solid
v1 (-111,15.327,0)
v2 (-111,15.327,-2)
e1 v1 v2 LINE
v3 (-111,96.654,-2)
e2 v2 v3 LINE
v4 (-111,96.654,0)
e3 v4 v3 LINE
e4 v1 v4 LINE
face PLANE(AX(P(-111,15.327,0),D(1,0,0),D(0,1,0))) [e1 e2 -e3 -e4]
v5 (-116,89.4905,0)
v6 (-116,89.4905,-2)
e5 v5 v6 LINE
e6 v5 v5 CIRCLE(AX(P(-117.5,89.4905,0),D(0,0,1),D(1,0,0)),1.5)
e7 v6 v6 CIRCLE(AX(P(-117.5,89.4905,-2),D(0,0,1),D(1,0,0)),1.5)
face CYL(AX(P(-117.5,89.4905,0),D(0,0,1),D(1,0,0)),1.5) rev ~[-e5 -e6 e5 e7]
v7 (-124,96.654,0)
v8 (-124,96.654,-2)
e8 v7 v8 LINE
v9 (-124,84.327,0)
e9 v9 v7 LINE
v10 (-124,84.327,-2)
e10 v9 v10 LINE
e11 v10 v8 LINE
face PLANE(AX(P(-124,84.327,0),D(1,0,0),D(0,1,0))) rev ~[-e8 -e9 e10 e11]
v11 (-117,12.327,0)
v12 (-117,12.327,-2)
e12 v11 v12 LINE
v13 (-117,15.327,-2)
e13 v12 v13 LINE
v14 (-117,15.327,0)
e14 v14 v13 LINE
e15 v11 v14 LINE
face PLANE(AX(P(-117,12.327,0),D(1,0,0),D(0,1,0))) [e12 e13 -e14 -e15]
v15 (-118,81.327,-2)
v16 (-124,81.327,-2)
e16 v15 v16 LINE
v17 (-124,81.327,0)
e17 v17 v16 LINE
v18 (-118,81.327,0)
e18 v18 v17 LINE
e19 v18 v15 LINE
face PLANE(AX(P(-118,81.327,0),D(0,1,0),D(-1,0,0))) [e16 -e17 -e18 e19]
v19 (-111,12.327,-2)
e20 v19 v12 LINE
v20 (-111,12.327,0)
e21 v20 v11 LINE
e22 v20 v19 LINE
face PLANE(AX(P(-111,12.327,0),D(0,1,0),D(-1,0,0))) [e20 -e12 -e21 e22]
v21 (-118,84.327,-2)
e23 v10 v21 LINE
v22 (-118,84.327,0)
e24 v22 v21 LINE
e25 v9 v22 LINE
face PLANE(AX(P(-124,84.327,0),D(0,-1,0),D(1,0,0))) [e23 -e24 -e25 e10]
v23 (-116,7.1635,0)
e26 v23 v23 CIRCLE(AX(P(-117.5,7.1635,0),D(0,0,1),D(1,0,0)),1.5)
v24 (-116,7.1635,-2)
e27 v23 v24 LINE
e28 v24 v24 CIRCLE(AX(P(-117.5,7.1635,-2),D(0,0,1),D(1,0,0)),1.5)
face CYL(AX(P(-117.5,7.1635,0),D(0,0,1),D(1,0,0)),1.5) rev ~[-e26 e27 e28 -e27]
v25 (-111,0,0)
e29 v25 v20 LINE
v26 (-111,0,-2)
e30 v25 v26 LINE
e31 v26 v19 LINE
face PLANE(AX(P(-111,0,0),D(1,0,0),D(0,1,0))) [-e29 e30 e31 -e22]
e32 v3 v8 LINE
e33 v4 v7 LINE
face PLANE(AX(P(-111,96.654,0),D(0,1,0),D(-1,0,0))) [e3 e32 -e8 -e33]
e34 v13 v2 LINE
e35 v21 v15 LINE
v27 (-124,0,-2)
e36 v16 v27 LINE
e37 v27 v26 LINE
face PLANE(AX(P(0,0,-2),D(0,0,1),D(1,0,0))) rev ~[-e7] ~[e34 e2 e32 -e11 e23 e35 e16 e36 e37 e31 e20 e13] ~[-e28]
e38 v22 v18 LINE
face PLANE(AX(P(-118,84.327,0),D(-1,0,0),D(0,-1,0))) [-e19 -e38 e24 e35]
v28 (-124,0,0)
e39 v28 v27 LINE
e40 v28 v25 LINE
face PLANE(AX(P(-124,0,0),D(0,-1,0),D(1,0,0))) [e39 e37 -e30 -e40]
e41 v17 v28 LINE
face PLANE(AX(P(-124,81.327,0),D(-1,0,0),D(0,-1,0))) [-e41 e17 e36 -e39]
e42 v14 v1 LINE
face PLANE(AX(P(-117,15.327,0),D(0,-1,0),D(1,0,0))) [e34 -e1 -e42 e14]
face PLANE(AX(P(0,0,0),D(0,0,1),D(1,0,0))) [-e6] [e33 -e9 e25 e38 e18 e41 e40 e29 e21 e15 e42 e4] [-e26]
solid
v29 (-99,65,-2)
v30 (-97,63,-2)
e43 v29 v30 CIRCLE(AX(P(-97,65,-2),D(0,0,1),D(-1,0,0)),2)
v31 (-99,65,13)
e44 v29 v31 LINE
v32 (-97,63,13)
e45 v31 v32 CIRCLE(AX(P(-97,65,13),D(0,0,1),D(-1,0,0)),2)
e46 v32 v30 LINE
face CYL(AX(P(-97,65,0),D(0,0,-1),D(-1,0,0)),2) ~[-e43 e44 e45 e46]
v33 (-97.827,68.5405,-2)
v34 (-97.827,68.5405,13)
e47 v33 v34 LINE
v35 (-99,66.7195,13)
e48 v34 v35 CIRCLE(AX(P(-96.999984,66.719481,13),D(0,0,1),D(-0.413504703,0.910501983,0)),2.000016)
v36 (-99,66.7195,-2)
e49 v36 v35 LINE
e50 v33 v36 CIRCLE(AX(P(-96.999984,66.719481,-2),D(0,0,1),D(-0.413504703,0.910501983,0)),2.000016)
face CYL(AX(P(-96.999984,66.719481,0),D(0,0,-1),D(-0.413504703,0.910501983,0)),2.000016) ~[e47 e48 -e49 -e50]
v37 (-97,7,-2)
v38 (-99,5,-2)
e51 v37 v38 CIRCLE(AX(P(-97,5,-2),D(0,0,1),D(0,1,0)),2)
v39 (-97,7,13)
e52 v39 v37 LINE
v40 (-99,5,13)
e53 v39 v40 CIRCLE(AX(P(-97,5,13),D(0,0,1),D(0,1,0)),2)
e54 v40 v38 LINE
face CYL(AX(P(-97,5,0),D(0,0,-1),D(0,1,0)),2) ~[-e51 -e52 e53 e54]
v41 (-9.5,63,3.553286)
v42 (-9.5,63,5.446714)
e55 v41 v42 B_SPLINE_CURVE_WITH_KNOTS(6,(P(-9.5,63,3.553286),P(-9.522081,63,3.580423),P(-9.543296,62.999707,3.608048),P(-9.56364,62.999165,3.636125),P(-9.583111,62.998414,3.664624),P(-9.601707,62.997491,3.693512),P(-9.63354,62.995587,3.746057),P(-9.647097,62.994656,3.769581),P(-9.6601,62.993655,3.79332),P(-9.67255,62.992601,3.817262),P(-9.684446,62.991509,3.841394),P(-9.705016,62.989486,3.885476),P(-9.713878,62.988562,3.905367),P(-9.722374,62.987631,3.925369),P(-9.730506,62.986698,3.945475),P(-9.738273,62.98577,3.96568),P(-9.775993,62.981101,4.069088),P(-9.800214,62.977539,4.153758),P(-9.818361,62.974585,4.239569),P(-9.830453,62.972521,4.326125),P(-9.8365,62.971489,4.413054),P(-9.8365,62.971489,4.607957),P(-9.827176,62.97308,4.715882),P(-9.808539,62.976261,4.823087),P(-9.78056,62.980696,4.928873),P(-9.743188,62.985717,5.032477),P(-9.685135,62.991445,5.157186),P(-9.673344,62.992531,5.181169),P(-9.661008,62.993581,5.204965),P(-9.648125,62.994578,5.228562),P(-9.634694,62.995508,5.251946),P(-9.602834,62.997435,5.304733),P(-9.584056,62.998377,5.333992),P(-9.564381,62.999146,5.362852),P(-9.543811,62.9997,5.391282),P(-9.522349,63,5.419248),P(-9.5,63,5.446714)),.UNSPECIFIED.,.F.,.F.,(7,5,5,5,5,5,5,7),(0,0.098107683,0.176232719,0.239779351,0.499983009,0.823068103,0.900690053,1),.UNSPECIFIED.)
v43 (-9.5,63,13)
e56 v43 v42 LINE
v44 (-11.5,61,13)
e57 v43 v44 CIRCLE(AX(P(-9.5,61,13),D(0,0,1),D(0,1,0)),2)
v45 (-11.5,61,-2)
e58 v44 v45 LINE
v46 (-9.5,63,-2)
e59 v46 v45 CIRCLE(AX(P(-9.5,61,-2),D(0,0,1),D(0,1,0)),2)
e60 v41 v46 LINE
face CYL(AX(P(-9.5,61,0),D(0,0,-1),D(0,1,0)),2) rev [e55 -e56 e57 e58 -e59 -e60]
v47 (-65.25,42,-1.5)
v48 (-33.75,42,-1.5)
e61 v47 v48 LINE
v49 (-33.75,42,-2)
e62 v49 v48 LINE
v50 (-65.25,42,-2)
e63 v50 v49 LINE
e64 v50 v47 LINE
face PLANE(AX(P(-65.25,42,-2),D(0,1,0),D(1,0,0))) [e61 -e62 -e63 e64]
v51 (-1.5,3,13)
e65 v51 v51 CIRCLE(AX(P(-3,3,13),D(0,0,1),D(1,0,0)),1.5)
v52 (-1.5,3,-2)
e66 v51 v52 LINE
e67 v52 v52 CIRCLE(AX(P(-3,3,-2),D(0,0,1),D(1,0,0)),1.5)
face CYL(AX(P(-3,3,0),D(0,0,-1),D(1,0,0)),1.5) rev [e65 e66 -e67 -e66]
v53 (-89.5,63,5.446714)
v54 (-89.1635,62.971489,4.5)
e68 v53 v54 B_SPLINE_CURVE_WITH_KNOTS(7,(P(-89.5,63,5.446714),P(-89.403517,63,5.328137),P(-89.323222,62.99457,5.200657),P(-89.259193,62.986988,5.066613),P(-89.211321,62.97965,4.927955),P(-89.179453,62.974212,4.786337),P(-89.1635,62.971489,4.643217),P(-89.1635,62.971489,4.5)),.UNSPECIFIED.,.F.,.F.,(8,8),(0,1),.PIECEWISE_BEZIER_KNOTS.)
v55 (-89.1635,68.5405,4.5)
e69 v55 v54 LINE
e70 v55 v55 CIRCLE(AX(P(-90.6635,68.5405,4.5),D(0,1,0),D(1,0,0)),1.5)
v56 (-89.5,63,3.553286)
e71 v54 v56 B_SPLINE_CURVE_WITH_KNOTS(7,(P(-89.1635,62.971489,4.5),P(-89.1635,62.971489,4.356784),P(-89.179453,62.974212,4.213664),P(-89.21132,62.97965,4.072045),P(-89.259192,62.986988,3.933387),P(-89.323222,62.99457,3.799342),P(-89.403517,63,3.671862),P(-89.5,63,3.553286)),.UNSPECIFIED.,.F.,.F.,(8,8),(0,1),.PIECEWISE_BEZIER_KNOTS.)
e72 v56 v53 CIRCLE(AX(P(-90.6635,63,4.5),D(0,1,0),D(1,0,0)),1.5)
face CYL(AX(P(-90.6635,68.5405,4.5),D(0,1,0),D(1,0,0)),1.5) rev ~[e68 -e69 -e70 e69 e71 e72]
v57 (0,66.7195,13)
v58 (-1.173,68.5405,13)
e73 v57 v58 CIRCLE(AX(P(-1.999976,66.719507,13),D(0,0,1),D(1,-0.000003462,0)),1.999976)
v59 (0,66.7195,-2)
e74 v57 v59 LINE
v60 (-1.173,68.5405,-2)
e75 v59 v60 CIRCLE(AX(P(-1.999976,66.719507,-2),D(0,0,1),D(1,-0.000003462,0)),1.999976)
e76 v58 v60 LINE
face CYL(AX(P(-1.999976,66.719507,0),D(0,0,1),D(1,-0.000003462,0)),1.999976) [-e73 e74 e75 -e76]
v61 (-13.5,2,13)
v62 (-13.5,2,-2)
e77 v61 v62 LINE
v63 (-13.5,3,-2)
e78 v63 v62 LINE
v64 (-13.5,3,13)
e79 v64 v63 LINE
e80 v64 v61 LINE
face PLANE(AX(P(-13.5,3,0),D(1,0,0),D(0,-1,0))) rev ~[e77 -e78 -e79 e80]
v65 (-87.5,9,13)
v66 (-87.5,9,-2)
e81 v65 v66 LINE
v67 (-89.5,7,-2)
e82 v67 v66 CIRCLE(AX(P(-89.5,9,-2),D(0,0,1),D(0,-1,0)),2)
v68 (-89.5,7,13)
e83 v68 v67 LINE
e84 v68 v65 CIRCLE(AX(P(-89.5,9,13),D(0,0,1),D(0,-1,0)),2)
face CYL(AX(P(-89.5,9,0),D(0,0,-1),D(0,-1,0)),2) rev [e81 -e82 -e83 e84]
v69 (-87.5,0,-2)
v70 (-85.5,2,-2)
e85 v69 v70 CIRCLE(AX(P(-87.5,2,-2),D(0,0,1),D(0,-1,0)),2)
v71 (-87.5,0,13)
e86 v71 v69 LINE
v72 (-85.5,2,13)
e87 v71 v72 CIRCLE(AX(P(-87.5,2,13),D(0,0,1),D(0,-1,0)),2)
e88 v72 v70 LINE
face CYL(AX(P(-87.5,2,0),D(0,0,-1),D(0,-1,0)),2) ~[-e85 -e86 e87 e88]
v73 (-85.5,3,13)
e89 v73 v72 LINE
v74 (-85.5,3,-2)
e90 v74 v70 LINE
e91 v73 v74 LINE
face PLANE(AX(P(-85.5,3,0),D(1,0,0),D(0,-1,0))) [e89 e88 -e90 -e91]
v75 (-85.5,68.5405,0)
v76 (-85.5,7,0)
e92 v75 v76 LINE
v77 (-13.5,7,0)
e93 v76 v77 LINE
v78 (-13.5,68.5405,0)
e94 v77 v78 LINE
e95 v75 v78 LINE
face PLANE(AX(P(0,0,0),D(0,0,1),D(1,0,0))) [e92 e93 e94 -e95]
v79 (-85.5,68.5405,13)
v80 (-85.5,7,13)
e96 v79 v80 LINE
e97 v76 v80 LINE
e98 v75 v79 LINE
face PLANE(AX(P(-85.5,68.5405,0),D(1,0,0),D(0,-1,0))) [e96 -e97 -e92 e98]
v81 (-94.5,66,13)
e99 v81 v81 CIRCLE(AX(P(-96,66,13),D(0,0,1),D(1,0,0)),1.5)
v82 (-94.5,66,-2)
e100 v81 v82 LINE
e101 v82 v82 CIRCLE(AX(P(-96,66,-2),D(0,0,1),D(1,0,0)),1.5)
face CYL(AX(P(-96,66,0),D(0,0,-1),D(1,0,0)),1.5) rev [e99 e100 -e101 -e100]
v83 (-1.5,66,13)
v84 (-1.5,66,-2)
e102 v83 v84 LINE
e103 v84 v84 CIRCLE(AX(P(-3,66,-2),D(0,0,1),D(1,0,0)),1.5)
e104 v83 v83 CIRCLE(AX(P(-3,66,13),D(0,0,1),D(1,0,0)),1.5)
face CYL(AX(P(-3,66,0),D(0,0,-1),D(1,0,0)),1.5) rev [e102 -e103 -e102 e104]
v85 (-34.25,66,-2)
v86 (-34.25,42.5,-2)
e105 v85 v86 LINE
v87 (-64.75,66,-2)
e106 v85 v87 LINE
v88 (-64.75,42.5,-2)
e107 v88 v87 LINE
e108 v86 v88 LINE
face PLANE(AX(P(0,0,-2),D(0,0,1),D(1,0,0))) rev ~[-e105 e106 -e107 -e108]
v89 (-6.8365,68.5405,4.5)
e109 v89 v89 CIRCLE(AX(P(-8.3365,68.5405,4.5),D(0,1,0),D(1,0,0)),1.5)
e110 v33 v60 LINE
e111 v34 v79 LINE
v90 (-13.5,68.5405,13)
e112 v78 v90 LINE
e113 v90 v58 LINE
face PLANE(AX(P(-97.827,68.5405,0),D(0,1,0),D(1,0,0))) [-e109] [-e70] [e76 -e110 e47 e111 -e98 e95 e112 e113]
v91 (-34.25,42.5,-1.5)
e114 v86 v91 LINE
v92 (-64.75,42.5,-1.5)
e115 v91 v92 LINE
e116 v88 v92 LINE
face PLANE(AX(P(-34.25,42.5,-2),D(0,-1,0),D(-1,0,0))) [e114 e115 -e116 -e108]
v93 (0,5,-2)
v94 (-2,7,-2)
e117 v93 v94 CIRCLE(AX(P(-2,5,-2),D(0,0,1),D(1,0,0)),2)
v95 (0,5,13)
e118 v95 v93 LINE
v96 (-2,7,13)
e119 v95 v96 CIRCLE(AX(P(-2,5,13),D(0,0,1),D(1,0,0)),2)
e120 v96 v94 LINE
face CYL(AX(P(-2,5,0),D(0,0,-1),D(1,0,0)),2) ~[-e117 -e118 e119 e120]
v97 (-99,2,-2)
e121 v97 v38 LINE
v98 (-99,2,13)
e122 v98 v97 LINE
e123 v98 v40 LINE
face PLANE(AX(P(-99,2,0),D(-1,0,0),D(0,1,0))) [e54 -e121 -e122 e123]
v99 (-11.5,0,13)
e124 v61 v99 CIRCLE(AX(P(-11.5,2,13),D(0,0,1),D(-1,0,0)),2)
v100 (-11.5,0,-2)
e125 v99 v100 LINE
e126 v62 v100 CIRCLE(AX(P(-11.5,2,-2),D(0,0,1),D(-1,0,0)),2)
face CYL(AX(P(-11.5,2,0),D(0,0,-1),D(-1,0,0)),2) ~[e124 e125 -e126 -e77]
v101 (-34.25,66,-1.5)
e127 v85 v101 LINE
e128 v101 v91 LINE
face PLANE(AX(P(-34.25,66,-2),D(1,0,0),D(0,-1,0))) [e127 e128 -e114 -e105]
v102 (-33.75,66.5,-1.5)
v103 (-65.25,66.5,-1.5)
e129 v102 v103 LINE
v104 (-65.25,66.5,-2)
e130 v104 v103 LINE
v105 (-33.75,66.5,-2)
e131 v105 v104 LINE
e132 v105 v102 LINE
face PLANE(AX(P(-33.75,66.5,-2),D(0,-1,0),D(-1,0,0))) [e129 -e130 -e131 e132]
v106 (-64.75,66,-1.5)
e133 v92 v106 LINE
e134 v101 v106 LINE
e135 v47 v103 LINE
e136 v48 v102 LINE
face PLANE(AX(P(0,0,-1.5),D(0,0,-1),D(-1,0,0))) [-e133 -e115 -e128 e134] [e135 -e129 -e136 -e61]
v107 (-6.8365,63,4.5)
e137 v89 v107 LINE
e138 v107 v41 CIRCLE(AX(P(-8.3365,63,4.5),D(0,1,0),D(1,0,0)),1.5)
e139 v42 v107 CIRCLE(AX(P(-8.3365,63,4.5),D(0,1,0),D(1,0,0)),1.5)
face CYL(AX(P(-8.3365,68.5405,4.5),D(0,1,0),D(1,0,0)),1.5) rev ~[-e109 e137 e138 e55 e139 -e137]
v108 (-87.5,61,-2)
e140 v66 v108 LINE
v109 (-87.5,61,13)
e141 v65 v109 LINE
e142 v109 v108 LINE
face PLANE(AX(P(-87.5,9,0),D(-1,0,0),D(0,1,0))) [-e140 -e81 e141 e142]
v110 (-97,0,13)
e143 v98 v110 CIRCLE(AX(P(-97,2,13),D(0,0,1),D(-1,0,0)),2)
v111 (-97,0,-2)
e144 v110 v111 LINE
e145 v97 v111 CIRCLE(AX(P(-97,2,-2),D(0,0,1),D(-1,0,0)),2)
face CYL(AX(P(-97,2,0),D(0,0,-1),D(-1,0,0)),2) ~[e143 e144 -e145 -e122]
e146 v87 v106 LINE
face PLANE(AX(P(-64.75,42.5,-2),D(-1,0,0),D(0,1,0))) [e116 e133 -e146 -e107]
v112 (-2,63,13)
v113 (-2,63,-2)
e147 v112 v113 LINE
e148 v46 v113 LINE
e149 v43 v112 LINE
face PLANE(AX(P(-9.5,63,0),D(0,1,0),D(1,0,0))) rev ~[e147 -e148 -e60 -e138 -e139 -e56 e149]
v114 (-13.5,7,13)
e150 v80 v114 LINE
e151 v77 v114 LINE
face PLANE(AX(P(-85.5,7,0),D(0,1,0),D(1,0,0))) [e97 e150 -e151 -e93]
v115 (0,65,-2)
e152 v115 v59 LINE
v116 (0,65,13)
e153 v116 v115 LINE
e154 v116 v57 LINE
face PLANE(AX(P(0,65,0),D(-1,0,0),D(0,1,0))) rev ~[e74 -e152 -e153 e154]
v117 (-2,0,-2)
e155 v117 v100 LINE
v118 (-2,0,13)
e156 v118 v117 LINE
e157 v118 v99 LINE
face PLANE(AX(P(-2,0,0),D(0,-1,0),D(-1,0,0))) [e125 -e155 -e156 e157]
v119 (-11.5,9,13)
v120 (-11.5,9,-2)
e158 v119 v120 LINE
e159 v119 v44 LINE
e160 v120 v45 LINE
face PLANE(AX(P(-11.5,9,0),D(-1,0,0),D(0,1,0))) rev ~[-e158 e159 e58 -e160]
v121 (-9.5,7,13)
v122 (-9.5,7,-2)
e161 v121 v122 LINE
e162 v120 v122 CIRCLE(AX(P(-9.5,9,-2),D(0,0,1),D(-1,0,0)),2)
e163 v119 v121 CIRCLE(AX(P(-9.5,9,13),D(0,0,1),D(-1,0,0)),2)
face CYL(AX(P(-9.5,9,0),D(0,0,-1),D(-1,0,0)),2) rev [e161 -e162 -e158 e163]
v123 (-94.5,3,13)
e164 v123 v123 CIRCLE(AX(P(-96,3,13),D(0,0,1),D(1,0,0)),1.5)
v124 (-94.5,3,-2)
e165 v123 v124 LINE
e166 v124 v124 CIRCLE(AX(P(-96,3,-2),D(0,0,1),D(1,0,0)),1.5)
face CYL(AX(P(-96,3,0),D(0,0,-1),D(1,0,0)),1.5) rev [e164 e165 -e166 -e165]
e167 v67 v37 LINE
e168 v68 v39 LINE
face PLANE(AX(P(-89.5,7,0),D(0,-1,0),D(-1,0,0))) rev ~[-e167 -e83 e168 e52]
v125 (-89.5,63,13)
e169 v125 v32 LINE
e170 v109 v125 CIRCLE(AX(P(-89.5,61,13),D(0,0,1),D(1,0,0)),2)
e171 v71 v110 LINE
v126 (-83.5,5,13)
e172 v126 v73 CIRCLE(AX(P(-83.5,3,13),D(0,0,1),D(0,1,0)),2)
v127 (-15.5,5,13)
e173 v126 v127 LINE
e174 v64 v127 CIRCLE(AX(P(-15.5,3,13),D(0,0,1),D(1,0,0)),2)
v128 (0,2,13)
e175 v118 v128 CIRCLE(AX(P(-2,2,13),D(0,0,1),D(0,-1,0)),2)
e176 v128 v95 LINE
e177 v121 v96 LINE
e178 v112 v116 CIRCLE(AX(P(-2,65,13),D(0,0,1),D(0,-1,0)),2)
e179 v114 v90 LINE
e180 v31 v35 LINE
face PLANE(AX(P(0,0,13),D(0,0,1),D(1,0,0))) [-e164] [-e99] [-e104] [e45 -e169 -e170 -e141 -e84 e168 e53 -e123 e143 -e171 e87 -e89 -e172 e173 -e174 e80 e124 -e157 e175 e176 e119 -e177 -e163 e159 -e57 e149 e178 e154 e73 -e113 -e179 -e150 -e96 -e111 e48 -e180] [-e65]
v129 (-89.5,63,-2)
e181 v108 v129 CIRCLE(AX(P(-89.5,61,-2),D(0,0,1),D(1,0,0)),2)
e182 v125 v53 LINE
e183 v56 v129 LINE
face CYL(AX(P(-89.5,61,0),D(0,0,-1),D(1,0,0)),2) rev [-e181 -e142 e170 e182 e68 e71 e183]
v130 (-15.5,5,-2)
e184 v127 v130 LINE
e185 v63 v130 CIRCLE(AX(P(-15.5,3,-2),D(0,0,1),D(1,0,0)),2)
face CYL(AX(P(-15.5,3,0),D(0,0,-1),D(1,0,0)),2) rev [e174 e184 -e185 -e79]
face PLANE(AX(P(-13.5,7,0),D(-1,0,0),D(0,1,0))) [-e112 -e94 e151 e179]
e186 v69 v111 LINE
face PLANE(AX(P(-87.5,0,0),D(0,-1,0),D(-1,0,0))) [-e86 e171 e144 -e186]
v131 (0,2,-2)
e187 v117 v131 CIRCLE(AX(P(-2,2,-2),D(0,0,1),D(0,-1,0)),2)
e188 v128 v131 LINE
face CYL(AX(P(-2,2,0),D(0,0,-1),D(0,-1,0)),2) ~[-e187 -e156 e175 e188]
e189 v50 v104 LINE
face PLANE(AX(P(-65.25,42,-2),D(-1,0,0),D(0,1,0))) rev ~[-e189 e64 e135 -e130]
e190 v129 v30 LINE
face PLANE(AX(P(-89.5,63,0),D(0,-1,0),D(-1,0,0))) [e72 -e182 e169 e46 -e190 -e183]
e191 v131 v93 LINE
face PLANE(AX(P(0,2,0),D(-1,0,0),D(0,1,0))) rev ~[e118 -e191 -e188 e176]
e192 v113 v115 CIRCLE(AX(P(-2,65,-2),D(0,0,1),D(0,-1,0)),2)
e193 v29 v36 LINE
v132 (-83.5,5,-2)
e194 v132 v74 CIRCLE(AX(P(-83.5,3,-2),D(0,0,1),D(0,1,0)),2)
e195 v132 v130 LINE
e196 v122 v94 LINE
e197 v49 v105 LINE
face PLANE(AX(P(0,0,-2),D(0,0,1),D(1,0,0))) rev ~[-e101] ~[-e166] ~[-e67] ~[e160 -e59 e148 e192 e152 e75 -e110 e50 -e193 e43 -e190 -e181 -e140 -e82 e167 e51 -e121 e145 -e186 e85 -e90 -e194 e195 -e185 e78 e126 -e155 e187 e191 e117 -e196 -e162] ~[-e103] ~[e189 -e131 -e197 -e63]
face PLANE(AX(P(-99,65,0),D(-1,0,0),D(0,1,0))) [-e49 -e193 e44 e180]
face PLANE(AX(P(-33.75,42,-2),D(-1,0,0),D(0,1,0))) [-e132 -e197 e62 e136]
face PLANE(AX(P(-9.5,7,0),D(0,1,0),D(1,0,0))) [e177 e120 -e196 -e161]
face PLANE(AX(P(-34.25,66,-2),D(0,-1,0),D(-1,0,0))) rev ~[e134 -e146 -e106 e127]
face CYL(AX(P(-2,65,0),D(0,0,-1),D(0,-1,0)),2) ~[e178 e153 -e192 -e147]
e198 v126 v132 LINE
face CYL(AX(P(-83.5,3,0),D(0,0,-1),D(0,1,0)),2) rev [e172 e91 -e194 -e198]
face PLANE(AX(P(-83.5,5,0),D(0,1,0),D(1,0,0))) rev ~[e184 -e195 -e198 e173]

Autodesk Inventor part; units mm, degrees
ref_plane "YZ Plane" through (0, 0, 0) normal (1, 0, 0) x (0, 1, 0)
ref_plane "XZ Plane" through (0, 0, 0) normal (0, 1, 0) x (-1, 0, 0)
ref_plane "XY Plane" through (0, 0, 0) normal (0, 0, 1) x (1, 0, 0)
sketch "Sketch1" plane through (0, 0, 0) normal (0, 0, 1) x (1, 0, 0)
  arc A0 (-97.827, 68.5405) -> (-99, 66.7195) centre (-97, 66.7195) ccw
  arc A1 (0, 66.7195) -> (-1.173, 68.5405) centre (-2, 66.7195) ccw
  arc A2 (-99, 2) -> (-97, 0) centre (-97, 2) ccw
  arc A3 (-2, 0) -> (0, 2) centre (-2, 2) ccw
  circle A4 centre (-3, 3) radius 1.5
  circle A5 centre (-96, 3) radius 1.5
  circle A6 centre (-3, 66) radius 1.5
  circle A7 centre (-96, 66) radius 1.5
  line L0 (-97.827, 68.5405) -> (-1.173, 68.5405)
  line L1 (-64.75, 66) -> (-34.25, 66)
  line L2 (-64.75, 66) -> (-64.75, 42.5)
  line L3 (-64.75, 42.5) -> (-34.25, 42.5)
  line L4 (-34.25, 42.5) -> (-34.25, 66)
  line L5 (-83.5, 5) -> (-15.5, 5)
  line L6 (-11.5, 9) -> (-11.5, 61)
  line L7 (-87.5, 9) -> (-87.5, 61)
  line L8 (-89.5, 63) -> (-97, 63)
  line L9 (-89.5, 7) -> (-97, 7)
  line L10 (-85.5, 3) -> (-85.5, 2)
  line L11 (-11.5, 9) -> (-11.5, 61)
  line L12 (-9.5, 63) -> (-2, 63)
  line L13 (-9.5, 7) -> (-2, 7)
  line L14 (-13.5, 3) -> (-13.5, 2)
  line L15 (-99, 2) -> (-99, 5)
  line L16 (-99, 65) -> (-99, 66.7195)
  line L17 (0, 2) -> (0, 5)
  line L18 (0, 65) -> (0, 66.7195)
  line L19 (-2, 0) -> (-11.5, 0)
  line L20 (-87.5, 0) -> (-97, 0)
  arc A8 (-87.5, 61) -> (-89.5, 63) centre (-89.5, 61) ccw
  arc A9 (-9.5, 63) -> (-11.5, 61) centre (-9.5, 61) ccw
  arc A10 (-11.5, 9) -> (-9.5, 7) centre (-9.5, 9) ccw
  arc A11 (-13.5, 3) -> (-15.5, 5) centre (-15.5, 3) ccw
  arc A12 (-83.5, 5) -> (-85.5, 3) centre (-83.5, 3) ccw
  arc A13 (-89.5, 7) -> (-87.5, 9) centre (-89.5, 9) ccw
  arc A14 (-2, 63) -> (0, 65) centre (-2, 65) ccw
  arc A15 (-99, 65) -> (-97, 63) centre (-97, 65) ccw
  arc A16 (-97, 7) -> (-99, 5) centre (-97, 5) ccw
  arc A17 (-87.5, 0) -> (-85.5, 2) centre (-87.5, 2) ccw
  arc A18 (-13.5, 2) -> (-11.5, 0) centre (-11.5, 2) ccw
  arc A19 (0, 5) -> (-2, 7) centre (-2, 5) ccw
  point P0 (0, 0)
  point P1 (-99, 68)
  point P2 (-97, 2)
  point P3 (-85.5, 5)
  point P4 (-87.5, 63)
  point P5 (-99, 63)
  point P6 (-99, 7)
  point P7 (-85.5, 0)
  point P8 (-87.5, 7)
  point P9 (0, 63)
  point P10 (0, 7)
  point P11 (-13.5, 0)
  point P12 (-13.5, 5)
  dimension "d5" = 2
  dimension "d6" = 2
  dimension "d7" = 2
  dimension "d8" = 2
  dimension "d14" = 3
  dimension "d16" = 3
  dimension "d94" = 3
  dimension "d95" = 3
  dimension "d97" = 99
  dimension "d98" = 30.5
  dimension "d99" = 23.5
  dimension "d190" = 96.654
  dimension "d200" = 10.327
  dimension "d228" = 2
  dimension "d229" = 2
  dimension "d230" = 2
extrude "Extrusion1" add sketch "Sketch1" against normal blind 2 contours L0 A1 L18 A14 L12 A9 L6 A10 L13 A19 L17 A3 L19 A18 L14 A11 L5 A12 L10 A17 L20 A2 L15 A16 L9 A13 L7 A8 L8 A15 L16 A0 | L1 L4 L3 L2
sketch "Sketch2" plane through (0, 0, 0) normal (0, 0, 1) x (1, 0, 0)
  arc A0 (-97.827, 68.5405) -> (-99, 66.7195) centre (-97, 66.7195) ccw
  arc A1 (0, 66.7195) -> (-1.173, 68.5405) centre (-2, 66.7195) ccw
  arc A2 (-99, 2) -> (-97, 0) centre (-97, 2) ccw
  arc A3 (-2, 0) -> (0, 2) centre (-2, 2) ccw
  circle A4 centre (-3, 3) radius 1.5
  circle A5 centre (-96, 3) radius 1.5
  circle A6 centre (-3, 66) radius 1.5
  circle A7 centre (-96, 66) radius 1.5
  line L0 (-97.827, 68.5405) -> (-1.173, 68.5405)
  line L1 (-64.75, 66) -> (-34.25, 66)
  line L2 (-64.75, 66) -> (-64.75, 42.5)
  line L3 (-64.75, 42.5) -> (-34.25, 42.5)
  line L4 (-34.25, 42.5) -> (-34.25, 66)
  line L5 (-83.5, 5) -> (-15.5, 5)
  line L6 (-11.5, 9) -> (-11.5, 61)
  line L7 (-87.5, 9) -> (-87.5, 61)
  line L8 (-89.5, 63) -> (-97, 63)
  line L9 (-89.5, 7) -> (-97, 7)
  line L10 (-85.5, 3) -> (-85.5, 2)
  line L11 (-13.5, 3) -> (-13.5, 2)
  line L12 (-11.5, 9) -> (-11.5, 61)
  line L13 (-9.5, 7) -> (-2, 7)
  line L14 (-9.5, 63) -> (-2, 63)
  line L15 (-99, 2) -> (-99, 5)
  line L16 (-99, 65) -> (-99, 66.7195)
  line L17 (0, 2) -> (0, 5)
  line L18 (0, 65) -> (0, 66.7195)
  line L19 (-2, 0) -> (-11.5, 0)
  line L20 (-87.5, 0) -> (-97, 0)
  arc A8 (-87.5, 61) -> (-89.5, 63) centre (-89.5, 61) ccw
  arc A9 (-9.5, 63) -> (-11.5, 61) centre (-9.5, 61) ccw
  arc A10 (-11.5, 9) -> (-9.5, 7) centre (-9.5, 9) ccw
  arc A11 (-13.5, 3) -> (-15.5, 5) centre (-15.5, 3) ccw
  arc A12 (-83.5, 5) -> (-85.5, 3) centre (-83.5, 3) ccw
  arc A13 (-89.5, 7) -> (-87.5, 9) centre (-89.5, 9) ccw
  arc A14 (-2, 63) -> (0, 65) centre (-2, 65) ccw
  arc A15 (-99, 65) -> (-97, 63) centre (-97, 65) ccw
  arc A16 (-97, 7) -> (-99, 5) centre (-97, 5) ccw
  arc A17 (-87.5, 0) -> (-85.5, 2) centre (-87.5, 2) ccw
  arc A18 (-13.5, 2) -> (-11.5, 0) centre (-11.5, 2) ccw
  arc A19 (0, 5) -> (-2, 7) centre (-2, 5) ccw
  line L21 (-85.5, 68.5405) -> (-85.5, 7)
  line L22 (-85.5, 7) -> (-13.5, 7)
  line L23 (-13.5, 7) -> (-13.5, 68.5405)
  point P0 (0, 0)
  point P1 (-99, 68)
  point P2 (-97, 2)
  point P3 (-85.5, 5)
  point P4 (-87.5, 63)
  point P5 (-99, 63)
  point P6 (-99, 7)
  point P7 (-85.5, 0)
  point P8 (-87.5, 7)
  point P9 (-13.5, 0)
  point P10 (0, 7)
  point P11 (0, 63)
  point P12 (-13.5, 5)
  point P13 (-89.5, 7)
  dimension "d231" = 2
  dimension "d232" = 2
  dimension "d233" = 2
  dimension "d234" = 2
  dimension "d235" = 3
  dimension "d236" = 3
  dimension "d237" = 3
  dimension "d238" = 3
  dimension "d239" = 99
  dimension "d240" = 30.5
  dimension "d241" = 23.5
  dimension "d242" = 96.654
  dimension "d243" = 10.327
  dimension "d244" = 2
  dimension "d245" = 2
  dimension "d246" = 2
extrude "Extrusion2" add sketch "Sketch2" along normal blind 13 contours L0 L21 L22 L23 A1 L18 A14 L14 A9 L6 A10 L13 A19 L17 A3 L19 A18 L11 A11 L5 A12 L10 A17 L20 A2 L15 A16 L9 A13 L7 A8 L8 A15 L16 A0
sketch "Sketch3" plane through (0, 0, 0) normal (0, 0, 1) x (1, 0, 0)
  line L0 (-117, 15.327) -> (-111, 15.327)
  line L1 (-117, 12.327) -> (-117, 15.327)
  line L2 (-111, 12.327) -> (-117, 12.327)
  line L3 (-118, 81.327) -> (-124, 81.327)
  line L4 (-124, 84.327) -> (-118, 84.327)
  line L5 (-118, 84.327) -> (-118, 81.327)
  line L6 (-118, 81.327) -> (-124, 81.327)
  line L7 (-111, 0) -> (-111, 12.327)
  line L8 (-111, 15.327) -> (-111, 96.654)
  line L9 (-124, 84.327) -> (-124, 96.654)
  line L10 (-124, 81.327) -> (-124, 0)
  line L11 (-111, 96.654) -> (-124, 96.654)
  line L12 (-124, 0) -> (-111, 0)
  point P0 (0, 0)
  point P1 (-111, 0)
  dimension "d194" = 6
  dimension "d195" = 3
  dimension "d201" = 12.327
  dimension "d227" = 13
sketch "Sketch4" plane through (0, 0, -2) normal (0, 0, -1) x (-1, 0, 0)
  arc A0 (1.173, 68.5405) -> (0, 66.7195) centre (2, 66.7195) ccw
  arc A1 (99, 66.7195) -> (97.827, 68.5405) centre (97, 66.7195) ccw
  arc A2 (0, 2) -> (2, 0) centre (2, 2) ccw
  arc A3 (97, 0) -> (99, 2) centre (97, 2) ccw
  circle A4 centre (96, 3) radius 1.5
  circle A5 centre (3, 3) radius 1.5
  circle A6 centre (96, 66) radius 1.5
  circle A7 centre (3, 66) radius 1.5
  line L0 (1.173, 68.5405) -> (97.827, 68.5405)
  line L1 (34.25, 66) -> (64.75, 66)
  line L2 (34.25, 66) -> (34.25, 42.5)
  line L3 (34.25, 42.5) -> (64.75, 42.5)
  line L4 (64.75, 42.5) -> (64.75, 66)
  line L5 (13.5, 5) -> (85.5, 5)
  line L6 (87.5, 7) -> (87.5, 63)
  line L7 (11.5, 7) -> (11.5, 63)
  line L8 (11.5, 63) -> (0, 63)
  line L9 (11.5, 7) -> (0, 7)
  line L10 (13.5, 5) -> (13.5, 0)
  line L11 (85.5, 5) -> (85.5, 0)
  line L12 (87.5, 7) -> (87.5, 63)
  line L13 (87.5, 7) -> (99, 7)
  line L14 (87.5, 63) -> (99, 63)
  line L15 (0, 2) -> (0, 7)
  line L16 (0, 63) -> (0, 66.7195)
  line L17 (99, 2) -> (99, 7)
  line L18 (99, 63) -> (99, 66.7195)
  line L19 (97, 0) -> (85.5, 0)
  line L20 (13.5, 0) -> (2, 0)
  line L21 (65.25, 42) -> (33.75, 42)
  line L22 (33.75, 42) -> (33.75, 66.5)
  line L23 (33.75, 66.5) -> (65.25, 66.5)
  line L24 (65.25, 42) -> (65.25, 66.5)
  point P0 (0, 0)
  point P1 (99, 0)
  point P2 (0, 68)
  point P3 (2, 2)
  dimension "d140" = 2
  dimension "d141" = 2
  dimension "d143" = 2
  dimension "d144" = 3
  dimension "d145" = 3
  dimension "d146" = 3
  dimension "d147" = 3
  dimension "d148" = 99
  dimension "d149" = 30.5
  dimension "d150" = 23.5
  dimension "d151" = 0.5
extrude "Extrusion4" cut sketch "Sketch4" against normal blind 0.5 contours L21 L22 L23 L24
extrude "Extrusion3" add sketch "Sketch3" against normal blind 2
sketch "Sketch5" plane through (-97.827, 68.5405, -2) normal (0, 1, 0) x (1, 0, 0)
  circle A0 centre (89.4905, -6.5) radius 1.5
  circle A1 centre (7.1635, -6.5) radius 1.5
  point P0 (97.827, -2)
extrude "Extrusion5" cut sketch "Sketch5" against normal blind 6
sketch "Sketch6" plane through (0, 0, 0) normal (0, 0, 1) x (1, 0, 0)
  line L0 (-117.5, 87.327) -> (-117.5, 87.327)
  circle A0 centre (-117.5, 89.4905) radius 1.5
  circle A1 centre (-117.5, 7.1635) radius 1.5
  point P0 (0, 0)
  point P1 (-116.5, 87.327)
  point P2 (-118.5, 87.327)
  dimension "d222" = 2
extrude "Extrusion6" cut sketch "Sketch6" against normal blind 2
properties part number "Caixa_baterias_em_baixo"
